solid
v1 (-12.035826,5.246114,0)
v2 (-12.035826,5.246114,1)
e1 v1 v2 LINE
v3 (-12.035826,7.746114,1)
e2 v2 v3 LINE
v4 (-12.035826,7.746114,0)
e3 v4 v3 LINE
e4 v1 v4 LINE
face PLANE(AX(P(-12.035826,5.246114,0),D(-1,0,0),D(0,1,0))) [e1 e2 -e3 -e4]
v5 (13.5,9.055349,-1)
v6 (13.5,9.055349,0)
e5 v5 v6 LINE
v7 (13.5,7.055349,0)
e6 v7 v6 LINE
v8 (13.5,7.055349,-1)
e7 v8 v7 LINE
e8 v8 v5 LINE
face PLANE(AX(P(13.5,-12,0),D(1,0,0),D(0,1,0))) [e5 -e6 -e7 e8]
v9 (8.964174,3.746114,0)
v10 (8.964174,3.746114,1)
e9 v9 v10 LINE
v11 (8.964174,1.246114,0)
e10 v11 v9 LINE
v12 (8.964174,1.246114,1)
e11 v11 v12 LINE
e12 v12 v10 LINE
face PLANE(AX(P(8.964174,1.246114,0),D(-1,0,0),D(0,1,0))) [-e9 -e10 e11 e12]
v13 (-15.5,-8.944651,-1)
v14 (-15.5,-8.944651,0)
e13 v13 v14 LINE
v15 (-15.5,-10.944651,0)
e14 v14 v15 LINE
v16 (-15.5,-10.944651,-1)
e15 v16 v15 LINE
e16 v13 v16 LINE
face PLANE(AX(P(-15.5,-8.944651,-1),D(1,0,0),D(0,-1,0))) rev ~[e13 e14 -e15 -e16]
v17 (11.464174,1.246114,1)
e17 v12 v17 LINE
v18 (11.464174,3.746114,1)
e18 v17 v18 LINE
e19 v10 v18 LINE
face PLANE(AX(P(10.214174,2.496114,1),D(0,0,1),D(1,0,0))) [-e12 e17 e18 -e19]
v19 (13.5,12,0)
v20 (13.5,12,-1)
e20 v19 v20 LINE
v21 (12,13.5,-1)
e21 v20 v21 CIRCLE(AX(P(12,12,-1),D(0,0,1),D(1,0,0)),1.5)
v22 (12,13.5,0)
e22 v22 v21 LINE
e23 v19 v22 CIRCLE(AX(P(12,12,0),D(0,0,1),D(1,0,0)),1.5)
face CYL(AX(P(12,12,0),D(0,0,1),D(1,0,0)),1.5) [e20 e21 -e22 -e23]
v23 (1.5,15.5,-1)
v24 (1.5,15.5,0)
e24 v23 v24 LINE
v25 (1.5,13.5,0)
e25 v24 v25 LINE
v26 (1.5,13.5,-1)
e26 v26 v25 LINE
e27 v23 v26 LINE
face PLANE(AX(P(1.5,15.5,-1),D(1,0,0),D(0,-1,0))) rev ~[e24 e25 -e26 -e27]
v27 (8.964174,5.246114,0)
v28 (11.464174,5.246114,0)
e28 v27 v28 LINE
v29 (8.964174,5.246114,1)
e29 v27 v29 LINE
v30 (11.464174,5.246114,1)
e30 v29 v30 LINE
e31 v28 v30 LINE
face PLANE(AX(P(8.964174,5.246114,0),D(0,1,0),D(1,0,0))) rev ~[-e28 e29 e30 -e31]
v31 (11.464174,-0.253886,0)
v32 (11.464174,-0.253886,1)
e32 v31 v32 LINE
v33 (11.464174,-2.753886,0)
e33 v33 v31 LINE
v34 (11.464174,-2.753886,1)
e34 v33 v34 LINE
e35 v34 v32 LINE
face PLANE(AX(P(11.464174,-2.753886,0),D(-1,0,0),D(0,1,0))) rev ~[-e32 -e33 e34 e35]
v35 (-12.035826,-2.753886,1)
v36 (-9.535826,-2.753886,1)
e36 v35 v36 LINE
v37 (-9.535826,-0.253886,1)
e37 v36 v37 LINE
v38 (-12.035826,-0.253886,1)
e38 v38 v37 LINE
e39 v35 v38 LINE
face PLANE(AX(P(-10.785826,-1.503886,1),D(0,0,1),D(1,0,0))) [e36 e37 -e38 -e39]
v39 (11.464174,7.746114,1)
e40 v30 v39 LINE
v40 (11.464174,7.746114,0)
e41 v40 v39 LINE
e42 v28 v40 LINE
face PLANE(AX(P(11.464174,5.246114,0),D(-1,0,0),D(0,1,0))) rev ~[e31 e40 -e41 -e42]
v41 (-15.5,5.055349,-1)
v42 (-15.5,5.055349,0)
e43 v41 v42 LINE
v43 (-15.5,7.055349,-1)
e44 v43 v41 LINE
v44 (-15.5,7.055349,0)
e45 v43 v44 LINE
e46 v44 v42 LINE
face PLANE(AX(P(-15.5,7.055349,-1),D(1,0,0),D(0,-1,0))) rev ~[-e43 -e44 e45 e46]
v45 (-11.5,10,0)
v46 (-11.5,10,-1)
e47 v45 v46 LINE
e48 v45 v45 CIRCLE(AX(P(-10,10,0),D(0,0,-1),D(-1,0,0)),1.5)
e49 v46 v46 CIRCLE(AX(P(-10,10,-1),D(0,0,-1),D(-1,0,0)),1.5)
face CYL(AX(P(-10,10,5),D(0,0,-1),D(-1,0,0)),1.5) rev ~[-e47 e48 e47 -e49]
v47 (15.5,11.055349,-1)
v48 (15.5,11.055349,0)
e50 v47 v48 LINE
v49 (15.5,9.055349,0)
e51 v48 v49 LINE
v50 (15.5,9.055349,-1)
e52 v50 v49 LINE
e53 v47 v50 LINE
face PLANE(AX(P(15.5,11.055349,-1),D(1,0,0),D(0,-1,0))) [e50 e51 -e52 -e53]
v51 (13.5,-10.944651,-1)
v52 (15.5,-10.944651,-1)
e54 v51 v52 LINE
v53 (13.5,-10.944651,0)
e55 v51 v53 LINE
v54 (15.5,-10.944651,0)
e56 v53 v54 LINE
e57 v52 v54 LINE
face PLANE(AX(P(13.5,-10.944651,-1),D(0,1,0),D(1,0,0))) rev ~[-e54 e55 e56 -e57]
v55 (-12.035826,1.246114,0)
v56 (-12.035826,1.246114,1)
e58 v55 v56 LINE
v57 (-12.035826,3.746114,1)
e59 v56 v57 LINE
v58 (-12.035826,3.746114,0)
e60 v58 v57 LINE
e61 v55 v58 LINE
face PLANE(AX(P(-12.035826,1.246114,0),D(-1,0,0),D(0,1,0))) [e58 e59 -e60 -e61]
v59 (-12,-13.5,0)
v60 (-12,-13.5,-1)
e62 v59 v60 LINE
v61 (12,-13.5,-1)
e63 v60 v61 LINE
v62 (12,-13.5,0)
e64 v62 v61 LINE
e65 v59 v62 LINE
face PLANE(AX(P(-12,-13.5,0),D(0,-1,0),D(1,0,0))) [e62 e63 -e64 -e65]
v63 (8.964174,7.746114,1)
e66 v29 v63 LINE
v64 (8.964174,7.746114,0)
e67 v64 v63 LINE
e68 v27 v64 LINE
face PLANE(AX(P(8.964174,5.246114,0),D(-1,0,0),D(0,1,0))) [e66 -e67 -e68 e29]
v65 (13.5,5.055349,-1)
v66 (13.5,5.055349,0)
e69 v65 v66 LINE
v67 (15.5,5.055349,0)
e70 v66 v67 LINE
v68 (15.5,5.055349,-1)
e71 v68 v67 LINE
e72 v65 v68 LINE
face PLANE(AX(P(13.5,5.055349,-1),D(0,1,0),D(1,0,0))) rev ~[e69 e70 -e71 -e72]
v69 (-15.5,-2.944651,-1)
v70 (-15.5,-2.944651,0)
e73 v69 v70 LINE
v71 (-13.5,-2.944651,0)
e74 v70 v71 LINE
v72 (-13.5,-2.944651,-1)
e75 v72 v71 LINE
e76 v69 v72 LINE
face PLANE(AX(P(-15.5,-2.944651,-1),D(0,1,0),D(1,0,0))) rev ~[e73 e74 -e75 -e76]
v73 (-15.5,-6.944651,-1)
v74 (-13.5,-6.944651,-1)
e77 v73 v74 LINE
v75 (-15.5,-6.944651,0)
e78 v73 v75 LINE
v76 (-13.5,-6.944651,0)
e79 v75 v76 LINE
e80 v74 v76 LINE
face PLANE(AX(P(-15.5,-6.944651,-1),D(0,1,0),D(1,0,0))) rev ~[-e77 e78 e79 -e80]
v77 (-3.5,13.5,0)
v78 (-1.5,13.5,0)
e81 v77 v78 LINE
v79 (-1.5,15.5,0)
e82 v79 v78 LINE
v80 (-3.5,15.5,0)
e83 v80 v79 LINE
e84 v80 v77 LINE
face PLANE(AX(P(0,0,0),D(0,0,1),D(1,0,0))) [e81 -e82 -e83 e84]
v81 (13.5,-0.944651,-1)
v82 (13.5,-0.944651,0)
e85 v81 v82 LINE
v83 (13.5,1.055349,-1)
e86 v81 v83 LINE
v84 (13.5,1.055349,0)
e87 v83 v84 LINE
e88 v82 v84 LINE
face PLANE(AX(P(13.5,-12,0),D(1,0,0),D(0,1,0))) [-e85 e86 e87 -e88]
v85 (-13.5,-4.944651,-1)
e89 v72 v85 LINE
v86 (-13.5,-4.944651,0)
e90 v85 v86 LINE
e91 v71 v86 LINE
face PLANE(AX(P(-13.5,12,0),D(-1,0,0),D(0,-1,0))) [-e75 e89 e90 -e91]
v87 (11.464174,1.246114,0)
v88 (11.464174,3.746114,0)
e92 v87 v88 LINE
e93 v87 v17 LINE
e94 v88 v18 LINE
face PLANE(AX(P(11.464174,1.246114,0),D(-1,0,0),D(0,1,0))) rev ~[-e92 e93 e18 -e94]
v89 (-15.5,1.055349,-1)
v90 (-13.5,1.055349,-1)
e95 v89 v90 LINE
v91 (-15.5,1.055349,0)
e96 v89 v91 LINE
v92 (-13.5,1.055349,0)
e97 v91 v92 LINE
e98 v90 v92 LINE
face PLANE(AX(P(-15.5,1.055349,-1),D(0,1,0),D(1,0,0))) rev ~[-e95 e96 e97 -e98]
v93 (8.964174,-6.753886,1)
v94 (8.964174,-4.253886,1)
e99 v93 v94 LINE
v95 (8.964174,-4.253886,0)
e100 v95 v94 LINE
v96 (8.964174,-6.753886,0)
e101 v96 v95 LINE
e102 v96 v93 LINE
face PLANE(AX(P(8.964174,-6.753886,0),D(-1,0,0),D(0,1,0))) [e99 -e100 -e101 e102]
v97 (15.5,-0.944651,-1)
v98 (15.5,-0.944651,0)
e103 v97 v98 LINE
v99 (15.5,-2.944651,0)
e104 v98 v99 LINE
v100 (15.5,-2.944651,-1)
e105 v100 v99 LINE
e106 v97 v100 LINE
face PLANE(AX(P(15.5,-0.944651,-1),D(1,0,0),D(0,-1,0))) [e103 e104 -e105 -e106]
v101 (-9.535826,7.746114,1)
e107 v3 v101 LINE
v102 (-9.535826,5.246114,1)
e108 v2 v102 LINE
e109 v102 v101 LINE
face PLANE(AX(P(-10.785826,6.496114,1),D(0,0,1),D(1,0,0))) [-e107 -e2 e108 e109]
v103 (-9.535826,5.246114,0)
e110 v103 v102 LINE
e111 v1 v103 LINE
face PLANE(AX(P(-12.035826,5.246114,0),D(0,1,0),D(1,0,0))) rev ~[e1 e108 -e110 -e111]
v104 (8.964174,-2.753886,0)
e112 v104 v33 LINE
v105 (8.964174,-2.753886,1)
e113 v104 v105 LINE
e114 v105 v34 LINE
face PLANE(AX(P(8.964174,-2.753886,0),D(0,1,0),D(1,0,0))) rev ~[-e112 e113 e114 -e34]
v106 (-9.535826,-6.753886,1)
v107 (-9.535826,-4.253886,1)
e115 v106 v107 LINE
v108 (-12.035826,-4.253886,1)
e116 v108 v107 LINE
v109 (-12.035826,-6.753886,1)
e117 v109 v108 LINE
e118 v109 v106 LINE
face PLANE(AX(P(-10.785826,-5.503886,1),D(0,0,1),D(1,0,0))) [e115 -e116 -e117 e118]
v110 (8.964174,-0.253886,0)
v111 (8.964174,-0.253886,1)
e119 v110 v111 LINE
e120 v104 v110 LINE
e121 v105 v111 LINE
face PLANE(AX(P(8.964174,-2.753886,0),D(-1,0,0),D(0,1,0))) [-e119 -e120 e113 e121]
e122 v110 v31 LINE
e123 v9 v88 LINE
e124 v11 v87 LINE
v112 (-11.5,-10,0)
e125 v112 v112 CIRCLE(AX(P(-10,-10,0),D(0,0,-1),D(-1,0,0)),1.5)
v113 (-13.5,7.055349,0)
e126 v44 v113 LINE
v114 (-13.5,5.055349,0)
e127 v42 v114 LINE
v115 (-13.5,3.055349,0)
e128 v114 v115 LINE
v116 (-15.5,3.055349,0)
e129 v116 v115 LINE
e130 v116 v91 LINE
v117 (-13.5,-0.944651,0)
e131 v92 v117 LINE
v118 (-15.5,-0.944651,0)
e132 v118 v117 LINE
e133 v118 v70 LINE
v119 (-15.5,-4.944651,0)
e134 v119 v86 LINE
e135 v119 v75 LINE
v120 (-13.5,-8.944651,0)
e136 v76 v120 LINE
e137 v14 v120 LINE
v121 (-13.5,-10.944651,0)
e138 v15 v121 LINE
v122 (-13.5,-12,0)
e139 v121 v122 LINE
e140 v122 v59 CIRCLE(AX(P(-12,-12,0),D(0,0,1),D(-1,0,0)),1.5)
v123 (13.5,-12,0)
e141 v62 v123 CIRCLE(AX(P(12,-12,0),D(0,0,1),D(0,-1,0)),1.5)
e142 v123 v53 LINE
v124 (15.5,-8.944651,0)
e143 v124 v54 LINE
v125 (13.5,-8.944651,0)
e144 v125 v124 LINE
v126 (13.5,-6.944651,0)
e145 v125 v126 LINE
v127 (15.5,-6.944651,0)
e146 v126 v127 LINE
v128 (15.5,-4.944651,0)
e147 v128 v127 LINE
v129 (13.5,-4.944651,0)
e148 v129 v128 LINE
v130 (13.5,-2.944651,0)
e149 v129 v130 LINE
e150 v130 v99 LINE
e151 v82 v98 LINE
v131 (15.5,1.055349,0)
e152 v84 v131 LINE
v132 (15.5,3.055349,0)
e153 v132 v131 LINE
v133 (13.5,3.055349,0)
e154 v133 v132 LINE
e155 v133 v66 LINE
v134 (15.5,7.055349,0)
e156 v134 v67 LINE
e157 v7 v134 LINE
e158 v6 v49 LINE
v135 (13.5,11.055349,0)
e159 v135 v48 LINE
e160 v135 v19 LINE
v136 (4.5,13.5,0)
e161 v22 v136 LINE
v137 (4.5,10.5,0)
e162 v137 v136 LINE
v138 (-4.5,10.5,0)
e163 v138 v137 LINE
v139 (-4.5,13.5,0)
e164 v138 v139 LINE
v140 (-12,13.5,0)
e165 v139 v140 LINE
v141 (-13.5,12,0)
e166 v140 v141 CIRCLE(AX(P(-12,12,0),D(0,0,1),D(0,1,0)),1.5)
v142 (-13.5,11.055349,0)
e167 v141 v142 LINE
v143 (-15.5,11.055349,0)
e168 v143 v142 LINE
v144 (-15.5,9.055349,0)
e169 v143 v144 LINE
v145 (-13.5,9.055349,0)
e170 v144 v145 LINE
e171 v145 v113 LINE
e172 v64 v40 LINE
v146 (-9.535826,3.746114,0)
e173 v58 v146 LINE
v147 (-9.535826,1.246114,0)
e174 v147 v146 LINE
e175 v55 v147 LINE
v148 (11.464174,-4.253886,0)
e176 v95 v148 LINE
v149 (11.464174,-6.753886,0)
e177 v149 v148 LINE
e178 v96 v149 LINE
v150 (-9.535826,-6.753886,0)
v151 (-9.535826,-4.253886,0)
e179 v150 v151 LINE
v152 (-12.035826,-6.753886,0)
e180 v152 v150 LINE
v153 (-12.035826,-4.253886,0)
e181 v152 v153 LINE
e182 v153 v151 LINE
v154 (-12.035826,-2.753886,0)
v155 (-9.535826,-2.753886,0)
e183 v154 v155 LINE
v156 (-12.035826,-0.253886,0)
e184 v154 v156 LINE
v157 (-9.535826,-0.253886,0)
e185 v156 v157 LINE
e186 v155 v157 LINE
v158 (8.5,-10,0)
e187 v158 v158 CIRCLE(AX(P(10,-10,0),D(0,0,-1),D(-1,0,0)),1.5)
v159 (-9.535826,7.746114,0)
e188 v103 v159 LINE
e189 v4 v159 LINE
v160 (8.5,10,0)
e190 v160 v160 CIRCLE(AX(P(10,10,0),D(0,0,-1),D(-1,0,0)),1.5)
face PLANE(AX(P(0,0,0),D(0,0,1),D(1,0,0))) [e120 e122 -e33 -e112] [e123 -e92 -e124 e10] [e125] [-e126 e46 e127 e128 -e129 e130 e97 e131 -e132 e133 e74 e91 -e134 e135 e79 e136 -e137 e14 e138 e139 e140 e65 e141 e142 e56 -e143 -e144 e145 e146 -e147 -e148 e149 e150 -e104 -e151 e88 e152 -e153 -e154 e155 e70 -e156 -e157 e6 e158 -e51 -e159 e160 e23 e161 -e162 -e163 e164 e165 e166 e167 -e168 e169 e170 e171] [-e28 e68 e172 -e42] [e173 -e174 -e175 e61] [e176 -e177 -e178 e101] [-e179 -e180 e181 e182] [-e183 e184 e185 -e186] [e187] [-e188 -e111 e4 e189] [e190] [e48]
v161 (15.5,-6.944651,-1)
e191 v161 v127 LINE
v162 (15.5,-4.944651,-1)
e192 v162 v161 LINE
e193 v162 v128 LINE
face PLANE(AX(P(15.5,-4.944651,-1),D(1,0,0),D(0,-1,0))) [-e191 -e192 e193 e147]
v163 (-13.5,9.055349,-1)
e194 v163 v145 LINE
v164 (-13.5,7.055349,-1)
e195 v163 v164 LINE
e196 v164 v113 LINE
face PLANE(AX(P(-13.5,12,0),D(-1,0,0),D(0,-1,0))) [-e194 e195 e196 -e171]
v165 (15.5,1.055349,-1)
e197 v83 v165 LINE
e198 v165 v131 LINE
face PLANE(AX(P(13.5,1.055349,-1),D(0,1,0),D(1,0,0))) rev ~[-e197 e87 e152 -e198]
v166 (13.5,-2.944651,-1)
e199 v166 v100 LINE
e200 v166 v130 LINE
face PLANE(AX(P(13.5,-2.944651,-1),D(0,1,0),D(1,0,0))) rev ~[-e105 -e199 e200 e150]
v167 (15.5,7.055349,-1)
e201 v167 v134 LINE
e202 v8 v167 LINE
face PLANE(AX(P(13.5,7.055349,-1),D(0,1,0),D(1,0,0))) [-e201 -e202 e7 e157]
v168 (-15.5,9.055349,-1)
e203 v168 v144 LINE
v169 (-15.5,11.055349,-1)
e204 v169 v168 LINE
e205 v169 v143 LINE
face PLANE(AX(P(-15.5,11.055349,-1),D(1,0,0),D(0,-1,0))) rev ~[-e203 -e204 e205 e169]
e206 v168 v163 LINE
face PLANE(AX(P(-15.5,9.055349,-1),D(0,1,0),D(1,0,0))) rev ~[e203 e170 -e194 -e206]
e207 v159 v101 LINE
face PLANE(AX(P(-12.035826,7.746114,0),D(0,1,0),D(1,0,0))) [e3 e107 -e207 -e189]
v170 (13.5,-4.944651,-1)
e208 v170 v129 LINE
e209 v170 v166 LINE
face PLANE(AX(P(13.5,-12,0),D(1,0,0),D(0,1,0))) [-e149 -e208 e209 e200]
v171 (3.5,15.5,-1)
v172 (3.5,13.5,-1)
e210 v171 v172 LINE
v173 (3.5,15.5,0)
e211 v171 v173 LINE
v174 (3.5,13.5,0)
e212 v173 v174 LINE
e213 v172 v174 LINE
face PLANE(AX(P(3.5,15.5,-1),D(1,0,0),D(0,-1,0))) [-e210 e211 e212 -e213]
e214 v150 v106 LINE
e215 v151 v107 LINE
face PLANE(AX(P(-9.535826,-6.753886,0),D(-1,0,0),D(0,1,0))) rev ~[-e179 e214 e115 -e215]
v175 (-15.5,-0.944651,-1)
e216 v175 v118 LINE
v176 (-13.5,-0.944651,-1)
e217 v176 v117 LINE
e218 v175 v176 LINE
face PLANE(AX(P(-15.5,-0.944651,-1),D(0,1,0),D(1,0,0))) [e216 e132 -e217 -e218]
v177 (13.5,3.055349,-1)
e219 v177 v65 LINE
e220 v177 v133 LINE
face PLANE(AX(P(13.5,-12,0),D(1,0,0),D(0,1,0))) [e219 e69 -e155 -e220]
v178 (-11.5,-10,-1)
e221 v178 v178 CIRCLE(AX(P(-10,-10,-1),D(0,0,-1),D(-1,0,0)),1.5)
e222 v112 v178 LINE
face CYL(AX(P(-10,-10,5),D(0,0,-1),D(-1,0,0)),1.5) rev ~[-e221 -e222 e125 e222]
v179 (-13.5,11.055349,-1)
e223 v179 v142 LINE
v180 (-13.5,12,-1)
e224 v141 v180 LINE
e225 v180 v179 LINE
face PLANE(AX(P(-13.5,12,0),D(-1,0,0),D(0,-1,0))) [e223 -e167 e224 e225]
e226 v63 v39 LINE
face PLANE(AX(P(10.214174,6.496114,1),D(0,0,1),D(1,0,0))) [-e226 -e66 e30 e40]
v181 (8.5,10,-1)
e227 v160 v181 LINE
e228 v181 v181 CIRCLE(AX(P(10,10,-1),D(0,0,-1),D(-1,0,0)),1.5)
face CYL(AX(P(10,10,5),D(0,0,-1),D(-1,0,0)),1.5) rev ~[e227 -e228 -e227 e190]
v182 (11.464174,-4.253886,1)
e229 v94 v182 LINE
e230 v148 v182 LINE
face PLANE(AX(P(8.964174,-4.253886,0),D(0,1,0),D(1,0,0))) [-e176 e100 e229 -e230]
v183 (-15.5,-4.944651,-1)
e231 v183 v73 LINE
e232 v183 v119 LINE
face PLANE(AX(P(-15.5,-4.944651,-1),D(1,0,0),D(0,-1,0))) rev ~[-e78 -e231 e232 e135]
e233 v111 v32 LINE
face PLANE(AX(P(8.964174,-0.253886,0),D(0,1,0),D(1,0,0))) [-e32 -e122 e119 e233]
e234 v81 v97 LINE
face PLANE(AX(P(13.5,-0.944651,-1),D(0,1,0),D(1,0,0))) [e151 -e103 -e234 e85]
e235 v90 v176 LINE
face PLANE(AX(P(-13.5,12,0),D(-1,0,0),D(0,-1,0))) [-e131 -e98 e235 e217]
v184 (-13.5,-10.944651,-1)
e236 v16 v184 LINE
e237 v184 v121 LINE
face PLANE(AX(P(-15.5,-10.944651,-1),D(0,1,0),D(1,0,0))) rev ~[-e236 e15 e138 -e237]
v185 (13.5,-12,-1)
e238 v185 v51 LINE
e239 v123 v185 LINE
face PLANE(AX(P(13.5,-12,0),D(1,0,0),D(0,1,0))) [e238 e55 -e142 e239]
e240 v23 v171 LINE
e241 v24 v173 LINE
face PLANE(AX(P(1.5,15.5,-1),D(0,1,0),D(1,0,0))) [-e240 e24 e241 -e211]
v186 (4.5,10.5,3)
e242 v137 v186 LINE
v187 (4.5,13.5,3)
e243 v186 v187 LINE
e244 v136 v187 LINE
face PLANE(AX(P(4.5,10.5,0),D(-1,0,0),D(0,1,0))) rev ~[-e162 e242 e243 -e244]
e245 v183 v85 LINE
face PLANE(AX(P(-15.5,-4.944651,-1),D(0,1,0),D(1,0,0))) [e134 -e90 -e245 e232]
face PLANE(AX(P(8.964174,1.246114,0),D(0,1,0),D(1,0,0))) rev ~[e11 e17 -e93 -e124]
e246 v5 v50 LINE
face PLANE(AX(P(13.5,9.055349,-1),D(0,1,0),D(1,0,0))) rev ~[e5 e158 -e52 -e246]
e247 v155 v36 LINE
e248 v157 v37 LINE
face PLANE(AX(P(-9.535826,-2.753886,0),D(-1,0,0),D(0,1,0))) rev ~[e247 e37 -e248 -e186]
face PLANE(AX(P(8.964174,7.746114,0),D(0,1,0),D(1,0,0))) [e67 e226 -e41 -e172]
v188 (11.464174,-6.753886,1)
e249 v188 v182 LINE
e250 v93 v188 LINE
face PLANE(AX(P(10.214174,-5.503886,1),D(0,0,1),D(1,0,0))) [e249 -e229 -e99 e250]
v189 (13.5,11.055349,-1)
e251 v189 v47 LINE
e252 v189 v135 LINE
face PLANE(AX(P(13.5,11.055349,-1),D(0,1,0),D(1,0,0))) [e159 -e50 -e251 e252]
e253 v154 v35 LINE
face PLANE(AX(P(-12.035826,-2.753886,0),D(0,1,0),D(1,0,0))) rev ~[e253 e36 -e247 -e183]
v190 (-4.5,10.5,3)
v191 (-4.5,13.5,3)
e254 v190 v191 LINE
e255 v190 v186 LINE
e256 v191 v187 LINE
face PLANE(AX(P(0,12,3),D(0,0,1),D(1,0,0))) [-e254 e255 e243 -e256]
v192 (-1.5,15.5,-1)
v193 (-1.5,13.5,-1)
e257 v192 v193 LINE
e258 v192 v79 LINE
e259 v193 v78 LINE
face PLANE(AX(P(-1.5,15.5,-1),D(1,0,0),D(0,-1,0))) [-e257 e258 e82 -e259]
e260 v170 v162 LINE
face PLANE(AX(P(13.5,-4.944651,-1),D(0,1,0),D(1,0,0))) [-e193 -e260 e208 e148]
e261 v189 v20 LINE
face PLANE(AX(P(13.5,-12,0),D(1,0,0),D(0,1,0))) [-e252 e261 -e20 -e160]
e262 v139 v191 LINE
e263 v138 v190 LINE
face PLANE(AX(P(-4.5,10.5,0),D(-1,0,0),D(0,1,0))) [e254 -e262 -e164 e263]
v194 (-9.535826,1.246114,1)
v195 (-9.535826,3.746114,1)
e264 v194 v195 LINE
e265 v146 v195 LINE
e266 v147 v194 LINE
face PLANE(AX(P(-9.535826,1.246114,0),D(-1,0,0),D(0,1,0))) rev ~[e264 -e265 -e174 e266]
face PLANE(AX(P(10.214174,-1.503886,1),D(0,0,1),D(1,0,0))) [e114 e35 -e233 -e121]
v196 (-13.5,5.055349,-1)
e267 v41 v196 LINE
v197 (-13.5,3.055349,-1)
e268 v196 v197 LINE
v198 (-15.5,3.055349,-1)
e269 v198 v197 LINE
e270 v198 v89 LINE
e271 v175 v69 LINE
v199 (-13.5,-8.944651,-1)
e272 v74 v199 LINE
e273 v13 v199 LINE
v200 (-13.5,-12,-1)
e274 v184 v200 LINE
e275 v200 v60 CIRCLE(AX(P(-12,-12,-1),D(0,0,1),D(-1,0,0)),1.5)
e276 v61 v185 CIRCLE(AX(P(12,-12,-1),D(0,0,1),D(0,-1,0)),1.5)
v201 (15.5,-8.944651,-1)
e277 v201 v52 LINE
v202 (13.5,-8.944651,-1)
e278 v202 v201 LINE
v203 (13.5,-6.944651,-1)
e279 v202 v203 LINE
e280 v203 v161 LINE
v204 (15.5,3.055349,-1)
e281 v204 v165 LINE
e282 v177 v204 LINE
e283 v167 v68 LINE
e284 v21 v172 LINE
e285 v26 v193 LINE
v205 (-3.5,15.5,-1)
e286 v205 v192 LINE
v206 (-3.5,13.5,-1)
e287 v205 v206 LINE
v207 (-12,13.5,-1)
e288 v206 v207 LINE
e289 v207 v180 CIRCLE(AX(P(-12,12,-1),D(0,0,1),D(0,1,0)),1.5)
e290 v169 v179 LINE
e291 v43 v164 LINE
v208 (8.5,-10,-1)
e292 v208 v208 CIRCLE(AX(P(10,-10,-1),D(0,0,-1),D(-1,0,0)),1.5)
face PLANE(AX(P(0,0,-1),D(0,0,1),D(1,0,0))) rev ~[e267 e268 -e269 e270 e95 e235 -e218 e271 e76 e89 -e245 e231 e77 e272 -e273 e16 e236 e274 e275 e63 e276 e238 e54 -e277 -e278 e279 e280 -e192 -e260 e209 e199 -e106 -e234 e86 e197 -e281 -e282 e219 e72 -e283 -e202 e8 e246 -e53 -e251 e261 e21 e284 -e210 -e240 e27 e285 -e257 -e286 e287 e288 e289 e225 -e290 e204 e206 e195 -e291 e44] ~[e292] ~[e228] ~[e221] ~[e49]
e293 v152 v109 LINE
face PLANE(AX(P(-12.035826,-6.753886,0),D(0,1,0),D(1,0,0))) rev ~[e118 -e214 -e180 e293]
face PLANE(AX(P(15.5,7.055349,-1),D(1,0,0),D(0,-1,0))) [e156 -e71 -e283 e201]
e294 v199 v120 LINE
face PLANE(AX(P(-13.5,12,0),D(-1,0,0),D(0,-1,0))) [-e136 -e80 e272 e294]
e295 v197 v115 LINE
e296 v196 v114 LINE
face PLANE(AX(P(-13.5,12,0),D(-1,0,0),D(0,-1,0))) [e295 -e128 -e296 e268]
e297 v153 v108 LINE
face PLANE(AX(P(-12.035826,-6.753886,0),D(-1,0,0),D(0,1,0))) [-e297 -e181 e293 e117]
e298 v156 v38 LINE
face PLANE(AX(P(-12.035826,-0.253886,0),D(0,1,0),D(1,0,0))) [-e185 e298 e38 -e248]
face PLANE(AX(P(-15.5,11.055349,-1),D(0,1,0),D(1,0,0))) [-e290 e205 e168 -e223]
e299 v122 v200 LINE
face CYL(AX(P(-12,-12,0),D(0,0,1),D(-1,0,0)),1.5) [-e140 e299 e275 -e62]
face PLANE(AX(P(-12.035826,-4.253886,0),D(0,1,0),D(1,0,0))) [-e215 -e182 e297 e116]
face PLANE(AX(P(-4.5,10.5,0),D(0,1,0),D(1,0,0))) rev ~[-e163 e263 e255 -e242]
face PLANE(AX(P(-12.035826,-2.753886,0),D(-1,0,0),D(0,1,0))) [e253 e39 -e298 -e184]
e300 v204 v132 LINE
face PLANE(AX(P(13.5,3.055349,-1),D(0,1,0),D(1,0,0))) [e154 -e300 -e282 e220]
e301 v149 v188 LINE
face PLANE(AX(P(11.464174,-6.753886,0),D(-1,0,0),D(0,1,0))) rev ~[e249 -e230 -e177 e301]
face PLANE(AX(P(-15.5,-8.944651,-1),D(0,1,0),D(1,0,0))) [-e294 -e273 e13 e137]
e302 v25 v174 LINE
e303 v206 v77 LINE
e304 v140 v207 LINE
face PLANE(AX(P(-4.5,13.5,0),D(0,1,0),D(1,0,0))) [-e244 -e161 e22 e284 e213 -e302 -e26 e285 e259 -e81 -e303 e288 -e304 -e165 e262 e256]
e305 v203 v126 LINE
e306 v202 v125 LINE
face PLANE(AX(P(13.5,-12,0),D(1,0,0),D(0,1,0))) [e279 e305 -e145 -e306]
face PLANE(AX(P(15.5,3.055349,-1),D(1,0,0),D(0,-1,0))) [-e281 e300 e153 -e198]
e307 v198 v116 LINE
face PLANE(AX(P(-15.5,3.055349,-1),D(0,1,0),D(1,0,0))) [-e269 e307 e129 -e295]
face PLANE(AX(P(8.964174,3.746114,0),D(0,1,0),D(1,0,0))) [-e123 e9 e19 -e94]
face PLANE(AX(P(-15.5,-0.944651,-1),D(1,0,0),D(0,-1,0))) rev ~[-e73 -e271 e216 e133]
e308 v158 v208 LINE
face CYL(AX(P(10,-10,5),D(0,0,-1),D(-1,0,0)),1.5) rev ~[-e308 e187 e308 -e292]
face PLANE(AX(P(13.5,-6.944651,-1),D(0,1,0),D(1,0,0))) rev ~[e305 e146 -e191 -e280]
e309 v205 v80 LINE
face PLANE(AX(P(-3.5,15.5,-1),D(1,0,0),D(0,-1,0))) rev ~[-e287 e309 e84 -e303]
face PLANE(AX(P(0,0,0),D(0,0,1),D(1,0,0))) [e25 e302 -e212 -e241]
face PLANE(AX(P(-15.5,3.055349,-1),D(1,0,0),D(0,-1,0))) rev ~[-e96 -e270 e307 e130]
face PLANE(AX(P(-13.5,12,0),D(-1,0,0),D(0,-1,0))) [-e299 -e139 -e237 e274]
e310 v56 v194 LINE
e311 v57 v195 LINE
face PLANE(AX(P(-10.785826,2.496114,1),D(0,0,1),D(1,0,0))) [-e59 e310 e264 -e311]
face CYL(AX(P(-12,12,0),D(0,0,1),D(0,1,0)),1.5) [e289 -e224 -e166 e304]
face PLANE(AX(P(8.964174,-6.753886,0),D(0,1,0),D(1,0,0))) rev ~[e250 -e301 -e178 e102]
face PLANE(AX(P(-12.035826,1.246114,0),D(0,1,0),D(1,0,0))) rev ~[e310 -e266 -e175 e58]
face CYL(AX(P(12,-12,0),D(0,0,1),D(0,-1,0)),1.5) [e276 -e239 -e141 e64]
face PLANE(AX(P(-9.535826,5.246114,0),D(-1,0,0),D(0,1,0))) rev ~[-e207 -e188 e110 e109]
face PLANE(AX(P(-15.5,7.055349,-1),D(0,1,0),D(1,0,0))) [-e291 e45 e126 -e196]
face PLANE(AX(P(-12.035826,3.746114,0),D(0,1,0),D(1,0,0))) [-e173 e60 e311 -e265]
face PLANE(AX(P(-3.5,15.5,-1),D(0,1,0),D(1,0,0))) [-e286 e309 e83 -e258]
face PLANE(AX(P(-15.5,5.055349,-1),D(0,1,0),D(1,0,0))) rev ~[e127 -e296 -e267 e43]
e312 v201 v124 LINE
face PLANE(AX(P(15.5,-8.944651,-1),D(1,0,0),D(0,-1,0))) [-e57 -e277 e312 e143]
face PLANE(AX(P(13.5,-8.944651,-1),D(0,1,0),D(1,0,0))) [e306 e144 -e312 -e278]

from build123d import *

# Parameters (mm, degrees)
F1_DEPTH = 1
F2_D     = 3
F2_DEPTH = 5
F2_TIP   = 0.9012909285
F3_W     = 2
F3_H     = 2
F4_DEPTH = 1
F5_W     = 9
F5_H     = 3
F6_DEPTH = 3
F7_W     = 2.5
F7_H     = 2.5
F8_DEPTH = 1


with BuildPart() as f1:
    # F0 (on Top) → F1 (new body)
    with BuildSketch(Plane.XY):
        with BuildLine():
            Line((12, 13.5), (-12, 13.5))
            ThreePointArc((-12, 13.5), (-13.0606601718, 13.0606601718), (-13.5, 12))
            Line((-13.5, 12), (-13.5, -12))
            ThreePointArc((-13.5, -12), (-13.0606601718, -13.0606601718), (-12, -13.5))
            Line((-12, -13.5), (12, -13.5))
            ThreePointArc((12, -13.5), (13.0606601718, -13.0606601718), (13.5, -12))
            Line((13.5, -12), (13.5, 12))
            ThreePointArc((13.5, 12), (13.0606601718, 13.0606601718), (12, 13.5))
        make_face()
    extrude(amount=-F1_DEPTH)

    # F2
    with Locations(Plane.XY):
        with Locations((-10, 10), (10, 10), (10, -10), (-10, -10)):
            Hole(F2_D / 2, depth=F2_DEPTH)
            with Locations((0, 0, -(F2_DEPTH + F2_TIP / 2))):  # 118° drill point
                Cone(0, F2_D / 2, F2_TIP, mode=Mode.SUBTRACT)

    # F3 (on face) → F4 (join)
    with BuildSketch(Plane(origin=(0, 0, -1), x_dir=(1, 0, 0), z_dir=(0, 0, -1))):
        with Locations((-14.5, 9.9446508034)):
            Rectangle(F3_W, F3_H)
        with Locations((-14.5, 5.9446508034)):
            Rectangle(F3_W, F3_H)
        with Locations((-14.5, 1.9446508034)):
            Rectangle(F3_W, F3_H)
        with Locations((-14.5, -2.0553491966)):
            Rectangle(F3_W, F3_H)
        with Locations((-14.5, -6.0553491966)):
            Rectangle(F3_W, F3_H)
        with Locations((-14.5, -10.0553491966)):
            Rectangle(F3_W, F3_H)
        with Locations((14.5, 9.9446508034)):
            Rectangle(F3_W, F3_H)
        with Locations((14.5, 5.9446508034)):
            Rectangle(F3_W, F3_H)
        with Locations((14.5, 1.9446508034)):
            Rectangle(F3_W, F3_H)
        with Locations((14.5, -2.0553491966)):
            Rectangle(F3_W, F3_H)
        with Locations((14.5, -6.0553491966)):
            Rectangle(F3_W, F3_H)
        with Locations((14.5, -10.0553491966)):
            Rectangle(F3_W, F3_H)
        with Locations((-2.5, -14.5)):
            Rectangle(F3_W, F3_H)
        with Locations((2.5, -14.5)):
            Rectangle(F3_W, F3_H)
    extrude(amount=-F4_DEPTH)

    # F5 (on face) → F6 (join)
    with BuildSketch(Plane.XY):
        with Locations((0, 12)):
            Rectangle(F5_W, F5_H)
    extrude(amount=F6_DEPTH)

    # F7 (on face) → F8 (join)
    with BuildSketch(Plane.XY):
        with Locations((-10.7858264819, 2.4961141907)):
            Rectangle(F7_W, F7_H)
        with Locations((-10.7858264819, -1.5038858093)):
            Rectangle(F7_W, F7_H)
        with Locations((-10.7858264819, -5.5038858093)):
            Rectangle(F7_W, F7_H)
        with Locations((-10.7858264819, 6.4961141907)):
            Rectangle(F7_W, F7_H)
        with Locations((10.2141735181, 6.4961141907)):
            Rectangle(F7_W, F7_H)
        with Locations((10.2141735181, 2.4961141907)):
            Rectangle(F7_W, F7_H)
        with Locations((10.2141735181, -1.5038858093)):
            Rectangle(F7_W, F7_H)
        with Locations((10.2141735181, -5.5038858093)):
            Rectangle(F7_W, F7_H)
    extrude(amount=F8_DEPTH)


solid = f1.part
